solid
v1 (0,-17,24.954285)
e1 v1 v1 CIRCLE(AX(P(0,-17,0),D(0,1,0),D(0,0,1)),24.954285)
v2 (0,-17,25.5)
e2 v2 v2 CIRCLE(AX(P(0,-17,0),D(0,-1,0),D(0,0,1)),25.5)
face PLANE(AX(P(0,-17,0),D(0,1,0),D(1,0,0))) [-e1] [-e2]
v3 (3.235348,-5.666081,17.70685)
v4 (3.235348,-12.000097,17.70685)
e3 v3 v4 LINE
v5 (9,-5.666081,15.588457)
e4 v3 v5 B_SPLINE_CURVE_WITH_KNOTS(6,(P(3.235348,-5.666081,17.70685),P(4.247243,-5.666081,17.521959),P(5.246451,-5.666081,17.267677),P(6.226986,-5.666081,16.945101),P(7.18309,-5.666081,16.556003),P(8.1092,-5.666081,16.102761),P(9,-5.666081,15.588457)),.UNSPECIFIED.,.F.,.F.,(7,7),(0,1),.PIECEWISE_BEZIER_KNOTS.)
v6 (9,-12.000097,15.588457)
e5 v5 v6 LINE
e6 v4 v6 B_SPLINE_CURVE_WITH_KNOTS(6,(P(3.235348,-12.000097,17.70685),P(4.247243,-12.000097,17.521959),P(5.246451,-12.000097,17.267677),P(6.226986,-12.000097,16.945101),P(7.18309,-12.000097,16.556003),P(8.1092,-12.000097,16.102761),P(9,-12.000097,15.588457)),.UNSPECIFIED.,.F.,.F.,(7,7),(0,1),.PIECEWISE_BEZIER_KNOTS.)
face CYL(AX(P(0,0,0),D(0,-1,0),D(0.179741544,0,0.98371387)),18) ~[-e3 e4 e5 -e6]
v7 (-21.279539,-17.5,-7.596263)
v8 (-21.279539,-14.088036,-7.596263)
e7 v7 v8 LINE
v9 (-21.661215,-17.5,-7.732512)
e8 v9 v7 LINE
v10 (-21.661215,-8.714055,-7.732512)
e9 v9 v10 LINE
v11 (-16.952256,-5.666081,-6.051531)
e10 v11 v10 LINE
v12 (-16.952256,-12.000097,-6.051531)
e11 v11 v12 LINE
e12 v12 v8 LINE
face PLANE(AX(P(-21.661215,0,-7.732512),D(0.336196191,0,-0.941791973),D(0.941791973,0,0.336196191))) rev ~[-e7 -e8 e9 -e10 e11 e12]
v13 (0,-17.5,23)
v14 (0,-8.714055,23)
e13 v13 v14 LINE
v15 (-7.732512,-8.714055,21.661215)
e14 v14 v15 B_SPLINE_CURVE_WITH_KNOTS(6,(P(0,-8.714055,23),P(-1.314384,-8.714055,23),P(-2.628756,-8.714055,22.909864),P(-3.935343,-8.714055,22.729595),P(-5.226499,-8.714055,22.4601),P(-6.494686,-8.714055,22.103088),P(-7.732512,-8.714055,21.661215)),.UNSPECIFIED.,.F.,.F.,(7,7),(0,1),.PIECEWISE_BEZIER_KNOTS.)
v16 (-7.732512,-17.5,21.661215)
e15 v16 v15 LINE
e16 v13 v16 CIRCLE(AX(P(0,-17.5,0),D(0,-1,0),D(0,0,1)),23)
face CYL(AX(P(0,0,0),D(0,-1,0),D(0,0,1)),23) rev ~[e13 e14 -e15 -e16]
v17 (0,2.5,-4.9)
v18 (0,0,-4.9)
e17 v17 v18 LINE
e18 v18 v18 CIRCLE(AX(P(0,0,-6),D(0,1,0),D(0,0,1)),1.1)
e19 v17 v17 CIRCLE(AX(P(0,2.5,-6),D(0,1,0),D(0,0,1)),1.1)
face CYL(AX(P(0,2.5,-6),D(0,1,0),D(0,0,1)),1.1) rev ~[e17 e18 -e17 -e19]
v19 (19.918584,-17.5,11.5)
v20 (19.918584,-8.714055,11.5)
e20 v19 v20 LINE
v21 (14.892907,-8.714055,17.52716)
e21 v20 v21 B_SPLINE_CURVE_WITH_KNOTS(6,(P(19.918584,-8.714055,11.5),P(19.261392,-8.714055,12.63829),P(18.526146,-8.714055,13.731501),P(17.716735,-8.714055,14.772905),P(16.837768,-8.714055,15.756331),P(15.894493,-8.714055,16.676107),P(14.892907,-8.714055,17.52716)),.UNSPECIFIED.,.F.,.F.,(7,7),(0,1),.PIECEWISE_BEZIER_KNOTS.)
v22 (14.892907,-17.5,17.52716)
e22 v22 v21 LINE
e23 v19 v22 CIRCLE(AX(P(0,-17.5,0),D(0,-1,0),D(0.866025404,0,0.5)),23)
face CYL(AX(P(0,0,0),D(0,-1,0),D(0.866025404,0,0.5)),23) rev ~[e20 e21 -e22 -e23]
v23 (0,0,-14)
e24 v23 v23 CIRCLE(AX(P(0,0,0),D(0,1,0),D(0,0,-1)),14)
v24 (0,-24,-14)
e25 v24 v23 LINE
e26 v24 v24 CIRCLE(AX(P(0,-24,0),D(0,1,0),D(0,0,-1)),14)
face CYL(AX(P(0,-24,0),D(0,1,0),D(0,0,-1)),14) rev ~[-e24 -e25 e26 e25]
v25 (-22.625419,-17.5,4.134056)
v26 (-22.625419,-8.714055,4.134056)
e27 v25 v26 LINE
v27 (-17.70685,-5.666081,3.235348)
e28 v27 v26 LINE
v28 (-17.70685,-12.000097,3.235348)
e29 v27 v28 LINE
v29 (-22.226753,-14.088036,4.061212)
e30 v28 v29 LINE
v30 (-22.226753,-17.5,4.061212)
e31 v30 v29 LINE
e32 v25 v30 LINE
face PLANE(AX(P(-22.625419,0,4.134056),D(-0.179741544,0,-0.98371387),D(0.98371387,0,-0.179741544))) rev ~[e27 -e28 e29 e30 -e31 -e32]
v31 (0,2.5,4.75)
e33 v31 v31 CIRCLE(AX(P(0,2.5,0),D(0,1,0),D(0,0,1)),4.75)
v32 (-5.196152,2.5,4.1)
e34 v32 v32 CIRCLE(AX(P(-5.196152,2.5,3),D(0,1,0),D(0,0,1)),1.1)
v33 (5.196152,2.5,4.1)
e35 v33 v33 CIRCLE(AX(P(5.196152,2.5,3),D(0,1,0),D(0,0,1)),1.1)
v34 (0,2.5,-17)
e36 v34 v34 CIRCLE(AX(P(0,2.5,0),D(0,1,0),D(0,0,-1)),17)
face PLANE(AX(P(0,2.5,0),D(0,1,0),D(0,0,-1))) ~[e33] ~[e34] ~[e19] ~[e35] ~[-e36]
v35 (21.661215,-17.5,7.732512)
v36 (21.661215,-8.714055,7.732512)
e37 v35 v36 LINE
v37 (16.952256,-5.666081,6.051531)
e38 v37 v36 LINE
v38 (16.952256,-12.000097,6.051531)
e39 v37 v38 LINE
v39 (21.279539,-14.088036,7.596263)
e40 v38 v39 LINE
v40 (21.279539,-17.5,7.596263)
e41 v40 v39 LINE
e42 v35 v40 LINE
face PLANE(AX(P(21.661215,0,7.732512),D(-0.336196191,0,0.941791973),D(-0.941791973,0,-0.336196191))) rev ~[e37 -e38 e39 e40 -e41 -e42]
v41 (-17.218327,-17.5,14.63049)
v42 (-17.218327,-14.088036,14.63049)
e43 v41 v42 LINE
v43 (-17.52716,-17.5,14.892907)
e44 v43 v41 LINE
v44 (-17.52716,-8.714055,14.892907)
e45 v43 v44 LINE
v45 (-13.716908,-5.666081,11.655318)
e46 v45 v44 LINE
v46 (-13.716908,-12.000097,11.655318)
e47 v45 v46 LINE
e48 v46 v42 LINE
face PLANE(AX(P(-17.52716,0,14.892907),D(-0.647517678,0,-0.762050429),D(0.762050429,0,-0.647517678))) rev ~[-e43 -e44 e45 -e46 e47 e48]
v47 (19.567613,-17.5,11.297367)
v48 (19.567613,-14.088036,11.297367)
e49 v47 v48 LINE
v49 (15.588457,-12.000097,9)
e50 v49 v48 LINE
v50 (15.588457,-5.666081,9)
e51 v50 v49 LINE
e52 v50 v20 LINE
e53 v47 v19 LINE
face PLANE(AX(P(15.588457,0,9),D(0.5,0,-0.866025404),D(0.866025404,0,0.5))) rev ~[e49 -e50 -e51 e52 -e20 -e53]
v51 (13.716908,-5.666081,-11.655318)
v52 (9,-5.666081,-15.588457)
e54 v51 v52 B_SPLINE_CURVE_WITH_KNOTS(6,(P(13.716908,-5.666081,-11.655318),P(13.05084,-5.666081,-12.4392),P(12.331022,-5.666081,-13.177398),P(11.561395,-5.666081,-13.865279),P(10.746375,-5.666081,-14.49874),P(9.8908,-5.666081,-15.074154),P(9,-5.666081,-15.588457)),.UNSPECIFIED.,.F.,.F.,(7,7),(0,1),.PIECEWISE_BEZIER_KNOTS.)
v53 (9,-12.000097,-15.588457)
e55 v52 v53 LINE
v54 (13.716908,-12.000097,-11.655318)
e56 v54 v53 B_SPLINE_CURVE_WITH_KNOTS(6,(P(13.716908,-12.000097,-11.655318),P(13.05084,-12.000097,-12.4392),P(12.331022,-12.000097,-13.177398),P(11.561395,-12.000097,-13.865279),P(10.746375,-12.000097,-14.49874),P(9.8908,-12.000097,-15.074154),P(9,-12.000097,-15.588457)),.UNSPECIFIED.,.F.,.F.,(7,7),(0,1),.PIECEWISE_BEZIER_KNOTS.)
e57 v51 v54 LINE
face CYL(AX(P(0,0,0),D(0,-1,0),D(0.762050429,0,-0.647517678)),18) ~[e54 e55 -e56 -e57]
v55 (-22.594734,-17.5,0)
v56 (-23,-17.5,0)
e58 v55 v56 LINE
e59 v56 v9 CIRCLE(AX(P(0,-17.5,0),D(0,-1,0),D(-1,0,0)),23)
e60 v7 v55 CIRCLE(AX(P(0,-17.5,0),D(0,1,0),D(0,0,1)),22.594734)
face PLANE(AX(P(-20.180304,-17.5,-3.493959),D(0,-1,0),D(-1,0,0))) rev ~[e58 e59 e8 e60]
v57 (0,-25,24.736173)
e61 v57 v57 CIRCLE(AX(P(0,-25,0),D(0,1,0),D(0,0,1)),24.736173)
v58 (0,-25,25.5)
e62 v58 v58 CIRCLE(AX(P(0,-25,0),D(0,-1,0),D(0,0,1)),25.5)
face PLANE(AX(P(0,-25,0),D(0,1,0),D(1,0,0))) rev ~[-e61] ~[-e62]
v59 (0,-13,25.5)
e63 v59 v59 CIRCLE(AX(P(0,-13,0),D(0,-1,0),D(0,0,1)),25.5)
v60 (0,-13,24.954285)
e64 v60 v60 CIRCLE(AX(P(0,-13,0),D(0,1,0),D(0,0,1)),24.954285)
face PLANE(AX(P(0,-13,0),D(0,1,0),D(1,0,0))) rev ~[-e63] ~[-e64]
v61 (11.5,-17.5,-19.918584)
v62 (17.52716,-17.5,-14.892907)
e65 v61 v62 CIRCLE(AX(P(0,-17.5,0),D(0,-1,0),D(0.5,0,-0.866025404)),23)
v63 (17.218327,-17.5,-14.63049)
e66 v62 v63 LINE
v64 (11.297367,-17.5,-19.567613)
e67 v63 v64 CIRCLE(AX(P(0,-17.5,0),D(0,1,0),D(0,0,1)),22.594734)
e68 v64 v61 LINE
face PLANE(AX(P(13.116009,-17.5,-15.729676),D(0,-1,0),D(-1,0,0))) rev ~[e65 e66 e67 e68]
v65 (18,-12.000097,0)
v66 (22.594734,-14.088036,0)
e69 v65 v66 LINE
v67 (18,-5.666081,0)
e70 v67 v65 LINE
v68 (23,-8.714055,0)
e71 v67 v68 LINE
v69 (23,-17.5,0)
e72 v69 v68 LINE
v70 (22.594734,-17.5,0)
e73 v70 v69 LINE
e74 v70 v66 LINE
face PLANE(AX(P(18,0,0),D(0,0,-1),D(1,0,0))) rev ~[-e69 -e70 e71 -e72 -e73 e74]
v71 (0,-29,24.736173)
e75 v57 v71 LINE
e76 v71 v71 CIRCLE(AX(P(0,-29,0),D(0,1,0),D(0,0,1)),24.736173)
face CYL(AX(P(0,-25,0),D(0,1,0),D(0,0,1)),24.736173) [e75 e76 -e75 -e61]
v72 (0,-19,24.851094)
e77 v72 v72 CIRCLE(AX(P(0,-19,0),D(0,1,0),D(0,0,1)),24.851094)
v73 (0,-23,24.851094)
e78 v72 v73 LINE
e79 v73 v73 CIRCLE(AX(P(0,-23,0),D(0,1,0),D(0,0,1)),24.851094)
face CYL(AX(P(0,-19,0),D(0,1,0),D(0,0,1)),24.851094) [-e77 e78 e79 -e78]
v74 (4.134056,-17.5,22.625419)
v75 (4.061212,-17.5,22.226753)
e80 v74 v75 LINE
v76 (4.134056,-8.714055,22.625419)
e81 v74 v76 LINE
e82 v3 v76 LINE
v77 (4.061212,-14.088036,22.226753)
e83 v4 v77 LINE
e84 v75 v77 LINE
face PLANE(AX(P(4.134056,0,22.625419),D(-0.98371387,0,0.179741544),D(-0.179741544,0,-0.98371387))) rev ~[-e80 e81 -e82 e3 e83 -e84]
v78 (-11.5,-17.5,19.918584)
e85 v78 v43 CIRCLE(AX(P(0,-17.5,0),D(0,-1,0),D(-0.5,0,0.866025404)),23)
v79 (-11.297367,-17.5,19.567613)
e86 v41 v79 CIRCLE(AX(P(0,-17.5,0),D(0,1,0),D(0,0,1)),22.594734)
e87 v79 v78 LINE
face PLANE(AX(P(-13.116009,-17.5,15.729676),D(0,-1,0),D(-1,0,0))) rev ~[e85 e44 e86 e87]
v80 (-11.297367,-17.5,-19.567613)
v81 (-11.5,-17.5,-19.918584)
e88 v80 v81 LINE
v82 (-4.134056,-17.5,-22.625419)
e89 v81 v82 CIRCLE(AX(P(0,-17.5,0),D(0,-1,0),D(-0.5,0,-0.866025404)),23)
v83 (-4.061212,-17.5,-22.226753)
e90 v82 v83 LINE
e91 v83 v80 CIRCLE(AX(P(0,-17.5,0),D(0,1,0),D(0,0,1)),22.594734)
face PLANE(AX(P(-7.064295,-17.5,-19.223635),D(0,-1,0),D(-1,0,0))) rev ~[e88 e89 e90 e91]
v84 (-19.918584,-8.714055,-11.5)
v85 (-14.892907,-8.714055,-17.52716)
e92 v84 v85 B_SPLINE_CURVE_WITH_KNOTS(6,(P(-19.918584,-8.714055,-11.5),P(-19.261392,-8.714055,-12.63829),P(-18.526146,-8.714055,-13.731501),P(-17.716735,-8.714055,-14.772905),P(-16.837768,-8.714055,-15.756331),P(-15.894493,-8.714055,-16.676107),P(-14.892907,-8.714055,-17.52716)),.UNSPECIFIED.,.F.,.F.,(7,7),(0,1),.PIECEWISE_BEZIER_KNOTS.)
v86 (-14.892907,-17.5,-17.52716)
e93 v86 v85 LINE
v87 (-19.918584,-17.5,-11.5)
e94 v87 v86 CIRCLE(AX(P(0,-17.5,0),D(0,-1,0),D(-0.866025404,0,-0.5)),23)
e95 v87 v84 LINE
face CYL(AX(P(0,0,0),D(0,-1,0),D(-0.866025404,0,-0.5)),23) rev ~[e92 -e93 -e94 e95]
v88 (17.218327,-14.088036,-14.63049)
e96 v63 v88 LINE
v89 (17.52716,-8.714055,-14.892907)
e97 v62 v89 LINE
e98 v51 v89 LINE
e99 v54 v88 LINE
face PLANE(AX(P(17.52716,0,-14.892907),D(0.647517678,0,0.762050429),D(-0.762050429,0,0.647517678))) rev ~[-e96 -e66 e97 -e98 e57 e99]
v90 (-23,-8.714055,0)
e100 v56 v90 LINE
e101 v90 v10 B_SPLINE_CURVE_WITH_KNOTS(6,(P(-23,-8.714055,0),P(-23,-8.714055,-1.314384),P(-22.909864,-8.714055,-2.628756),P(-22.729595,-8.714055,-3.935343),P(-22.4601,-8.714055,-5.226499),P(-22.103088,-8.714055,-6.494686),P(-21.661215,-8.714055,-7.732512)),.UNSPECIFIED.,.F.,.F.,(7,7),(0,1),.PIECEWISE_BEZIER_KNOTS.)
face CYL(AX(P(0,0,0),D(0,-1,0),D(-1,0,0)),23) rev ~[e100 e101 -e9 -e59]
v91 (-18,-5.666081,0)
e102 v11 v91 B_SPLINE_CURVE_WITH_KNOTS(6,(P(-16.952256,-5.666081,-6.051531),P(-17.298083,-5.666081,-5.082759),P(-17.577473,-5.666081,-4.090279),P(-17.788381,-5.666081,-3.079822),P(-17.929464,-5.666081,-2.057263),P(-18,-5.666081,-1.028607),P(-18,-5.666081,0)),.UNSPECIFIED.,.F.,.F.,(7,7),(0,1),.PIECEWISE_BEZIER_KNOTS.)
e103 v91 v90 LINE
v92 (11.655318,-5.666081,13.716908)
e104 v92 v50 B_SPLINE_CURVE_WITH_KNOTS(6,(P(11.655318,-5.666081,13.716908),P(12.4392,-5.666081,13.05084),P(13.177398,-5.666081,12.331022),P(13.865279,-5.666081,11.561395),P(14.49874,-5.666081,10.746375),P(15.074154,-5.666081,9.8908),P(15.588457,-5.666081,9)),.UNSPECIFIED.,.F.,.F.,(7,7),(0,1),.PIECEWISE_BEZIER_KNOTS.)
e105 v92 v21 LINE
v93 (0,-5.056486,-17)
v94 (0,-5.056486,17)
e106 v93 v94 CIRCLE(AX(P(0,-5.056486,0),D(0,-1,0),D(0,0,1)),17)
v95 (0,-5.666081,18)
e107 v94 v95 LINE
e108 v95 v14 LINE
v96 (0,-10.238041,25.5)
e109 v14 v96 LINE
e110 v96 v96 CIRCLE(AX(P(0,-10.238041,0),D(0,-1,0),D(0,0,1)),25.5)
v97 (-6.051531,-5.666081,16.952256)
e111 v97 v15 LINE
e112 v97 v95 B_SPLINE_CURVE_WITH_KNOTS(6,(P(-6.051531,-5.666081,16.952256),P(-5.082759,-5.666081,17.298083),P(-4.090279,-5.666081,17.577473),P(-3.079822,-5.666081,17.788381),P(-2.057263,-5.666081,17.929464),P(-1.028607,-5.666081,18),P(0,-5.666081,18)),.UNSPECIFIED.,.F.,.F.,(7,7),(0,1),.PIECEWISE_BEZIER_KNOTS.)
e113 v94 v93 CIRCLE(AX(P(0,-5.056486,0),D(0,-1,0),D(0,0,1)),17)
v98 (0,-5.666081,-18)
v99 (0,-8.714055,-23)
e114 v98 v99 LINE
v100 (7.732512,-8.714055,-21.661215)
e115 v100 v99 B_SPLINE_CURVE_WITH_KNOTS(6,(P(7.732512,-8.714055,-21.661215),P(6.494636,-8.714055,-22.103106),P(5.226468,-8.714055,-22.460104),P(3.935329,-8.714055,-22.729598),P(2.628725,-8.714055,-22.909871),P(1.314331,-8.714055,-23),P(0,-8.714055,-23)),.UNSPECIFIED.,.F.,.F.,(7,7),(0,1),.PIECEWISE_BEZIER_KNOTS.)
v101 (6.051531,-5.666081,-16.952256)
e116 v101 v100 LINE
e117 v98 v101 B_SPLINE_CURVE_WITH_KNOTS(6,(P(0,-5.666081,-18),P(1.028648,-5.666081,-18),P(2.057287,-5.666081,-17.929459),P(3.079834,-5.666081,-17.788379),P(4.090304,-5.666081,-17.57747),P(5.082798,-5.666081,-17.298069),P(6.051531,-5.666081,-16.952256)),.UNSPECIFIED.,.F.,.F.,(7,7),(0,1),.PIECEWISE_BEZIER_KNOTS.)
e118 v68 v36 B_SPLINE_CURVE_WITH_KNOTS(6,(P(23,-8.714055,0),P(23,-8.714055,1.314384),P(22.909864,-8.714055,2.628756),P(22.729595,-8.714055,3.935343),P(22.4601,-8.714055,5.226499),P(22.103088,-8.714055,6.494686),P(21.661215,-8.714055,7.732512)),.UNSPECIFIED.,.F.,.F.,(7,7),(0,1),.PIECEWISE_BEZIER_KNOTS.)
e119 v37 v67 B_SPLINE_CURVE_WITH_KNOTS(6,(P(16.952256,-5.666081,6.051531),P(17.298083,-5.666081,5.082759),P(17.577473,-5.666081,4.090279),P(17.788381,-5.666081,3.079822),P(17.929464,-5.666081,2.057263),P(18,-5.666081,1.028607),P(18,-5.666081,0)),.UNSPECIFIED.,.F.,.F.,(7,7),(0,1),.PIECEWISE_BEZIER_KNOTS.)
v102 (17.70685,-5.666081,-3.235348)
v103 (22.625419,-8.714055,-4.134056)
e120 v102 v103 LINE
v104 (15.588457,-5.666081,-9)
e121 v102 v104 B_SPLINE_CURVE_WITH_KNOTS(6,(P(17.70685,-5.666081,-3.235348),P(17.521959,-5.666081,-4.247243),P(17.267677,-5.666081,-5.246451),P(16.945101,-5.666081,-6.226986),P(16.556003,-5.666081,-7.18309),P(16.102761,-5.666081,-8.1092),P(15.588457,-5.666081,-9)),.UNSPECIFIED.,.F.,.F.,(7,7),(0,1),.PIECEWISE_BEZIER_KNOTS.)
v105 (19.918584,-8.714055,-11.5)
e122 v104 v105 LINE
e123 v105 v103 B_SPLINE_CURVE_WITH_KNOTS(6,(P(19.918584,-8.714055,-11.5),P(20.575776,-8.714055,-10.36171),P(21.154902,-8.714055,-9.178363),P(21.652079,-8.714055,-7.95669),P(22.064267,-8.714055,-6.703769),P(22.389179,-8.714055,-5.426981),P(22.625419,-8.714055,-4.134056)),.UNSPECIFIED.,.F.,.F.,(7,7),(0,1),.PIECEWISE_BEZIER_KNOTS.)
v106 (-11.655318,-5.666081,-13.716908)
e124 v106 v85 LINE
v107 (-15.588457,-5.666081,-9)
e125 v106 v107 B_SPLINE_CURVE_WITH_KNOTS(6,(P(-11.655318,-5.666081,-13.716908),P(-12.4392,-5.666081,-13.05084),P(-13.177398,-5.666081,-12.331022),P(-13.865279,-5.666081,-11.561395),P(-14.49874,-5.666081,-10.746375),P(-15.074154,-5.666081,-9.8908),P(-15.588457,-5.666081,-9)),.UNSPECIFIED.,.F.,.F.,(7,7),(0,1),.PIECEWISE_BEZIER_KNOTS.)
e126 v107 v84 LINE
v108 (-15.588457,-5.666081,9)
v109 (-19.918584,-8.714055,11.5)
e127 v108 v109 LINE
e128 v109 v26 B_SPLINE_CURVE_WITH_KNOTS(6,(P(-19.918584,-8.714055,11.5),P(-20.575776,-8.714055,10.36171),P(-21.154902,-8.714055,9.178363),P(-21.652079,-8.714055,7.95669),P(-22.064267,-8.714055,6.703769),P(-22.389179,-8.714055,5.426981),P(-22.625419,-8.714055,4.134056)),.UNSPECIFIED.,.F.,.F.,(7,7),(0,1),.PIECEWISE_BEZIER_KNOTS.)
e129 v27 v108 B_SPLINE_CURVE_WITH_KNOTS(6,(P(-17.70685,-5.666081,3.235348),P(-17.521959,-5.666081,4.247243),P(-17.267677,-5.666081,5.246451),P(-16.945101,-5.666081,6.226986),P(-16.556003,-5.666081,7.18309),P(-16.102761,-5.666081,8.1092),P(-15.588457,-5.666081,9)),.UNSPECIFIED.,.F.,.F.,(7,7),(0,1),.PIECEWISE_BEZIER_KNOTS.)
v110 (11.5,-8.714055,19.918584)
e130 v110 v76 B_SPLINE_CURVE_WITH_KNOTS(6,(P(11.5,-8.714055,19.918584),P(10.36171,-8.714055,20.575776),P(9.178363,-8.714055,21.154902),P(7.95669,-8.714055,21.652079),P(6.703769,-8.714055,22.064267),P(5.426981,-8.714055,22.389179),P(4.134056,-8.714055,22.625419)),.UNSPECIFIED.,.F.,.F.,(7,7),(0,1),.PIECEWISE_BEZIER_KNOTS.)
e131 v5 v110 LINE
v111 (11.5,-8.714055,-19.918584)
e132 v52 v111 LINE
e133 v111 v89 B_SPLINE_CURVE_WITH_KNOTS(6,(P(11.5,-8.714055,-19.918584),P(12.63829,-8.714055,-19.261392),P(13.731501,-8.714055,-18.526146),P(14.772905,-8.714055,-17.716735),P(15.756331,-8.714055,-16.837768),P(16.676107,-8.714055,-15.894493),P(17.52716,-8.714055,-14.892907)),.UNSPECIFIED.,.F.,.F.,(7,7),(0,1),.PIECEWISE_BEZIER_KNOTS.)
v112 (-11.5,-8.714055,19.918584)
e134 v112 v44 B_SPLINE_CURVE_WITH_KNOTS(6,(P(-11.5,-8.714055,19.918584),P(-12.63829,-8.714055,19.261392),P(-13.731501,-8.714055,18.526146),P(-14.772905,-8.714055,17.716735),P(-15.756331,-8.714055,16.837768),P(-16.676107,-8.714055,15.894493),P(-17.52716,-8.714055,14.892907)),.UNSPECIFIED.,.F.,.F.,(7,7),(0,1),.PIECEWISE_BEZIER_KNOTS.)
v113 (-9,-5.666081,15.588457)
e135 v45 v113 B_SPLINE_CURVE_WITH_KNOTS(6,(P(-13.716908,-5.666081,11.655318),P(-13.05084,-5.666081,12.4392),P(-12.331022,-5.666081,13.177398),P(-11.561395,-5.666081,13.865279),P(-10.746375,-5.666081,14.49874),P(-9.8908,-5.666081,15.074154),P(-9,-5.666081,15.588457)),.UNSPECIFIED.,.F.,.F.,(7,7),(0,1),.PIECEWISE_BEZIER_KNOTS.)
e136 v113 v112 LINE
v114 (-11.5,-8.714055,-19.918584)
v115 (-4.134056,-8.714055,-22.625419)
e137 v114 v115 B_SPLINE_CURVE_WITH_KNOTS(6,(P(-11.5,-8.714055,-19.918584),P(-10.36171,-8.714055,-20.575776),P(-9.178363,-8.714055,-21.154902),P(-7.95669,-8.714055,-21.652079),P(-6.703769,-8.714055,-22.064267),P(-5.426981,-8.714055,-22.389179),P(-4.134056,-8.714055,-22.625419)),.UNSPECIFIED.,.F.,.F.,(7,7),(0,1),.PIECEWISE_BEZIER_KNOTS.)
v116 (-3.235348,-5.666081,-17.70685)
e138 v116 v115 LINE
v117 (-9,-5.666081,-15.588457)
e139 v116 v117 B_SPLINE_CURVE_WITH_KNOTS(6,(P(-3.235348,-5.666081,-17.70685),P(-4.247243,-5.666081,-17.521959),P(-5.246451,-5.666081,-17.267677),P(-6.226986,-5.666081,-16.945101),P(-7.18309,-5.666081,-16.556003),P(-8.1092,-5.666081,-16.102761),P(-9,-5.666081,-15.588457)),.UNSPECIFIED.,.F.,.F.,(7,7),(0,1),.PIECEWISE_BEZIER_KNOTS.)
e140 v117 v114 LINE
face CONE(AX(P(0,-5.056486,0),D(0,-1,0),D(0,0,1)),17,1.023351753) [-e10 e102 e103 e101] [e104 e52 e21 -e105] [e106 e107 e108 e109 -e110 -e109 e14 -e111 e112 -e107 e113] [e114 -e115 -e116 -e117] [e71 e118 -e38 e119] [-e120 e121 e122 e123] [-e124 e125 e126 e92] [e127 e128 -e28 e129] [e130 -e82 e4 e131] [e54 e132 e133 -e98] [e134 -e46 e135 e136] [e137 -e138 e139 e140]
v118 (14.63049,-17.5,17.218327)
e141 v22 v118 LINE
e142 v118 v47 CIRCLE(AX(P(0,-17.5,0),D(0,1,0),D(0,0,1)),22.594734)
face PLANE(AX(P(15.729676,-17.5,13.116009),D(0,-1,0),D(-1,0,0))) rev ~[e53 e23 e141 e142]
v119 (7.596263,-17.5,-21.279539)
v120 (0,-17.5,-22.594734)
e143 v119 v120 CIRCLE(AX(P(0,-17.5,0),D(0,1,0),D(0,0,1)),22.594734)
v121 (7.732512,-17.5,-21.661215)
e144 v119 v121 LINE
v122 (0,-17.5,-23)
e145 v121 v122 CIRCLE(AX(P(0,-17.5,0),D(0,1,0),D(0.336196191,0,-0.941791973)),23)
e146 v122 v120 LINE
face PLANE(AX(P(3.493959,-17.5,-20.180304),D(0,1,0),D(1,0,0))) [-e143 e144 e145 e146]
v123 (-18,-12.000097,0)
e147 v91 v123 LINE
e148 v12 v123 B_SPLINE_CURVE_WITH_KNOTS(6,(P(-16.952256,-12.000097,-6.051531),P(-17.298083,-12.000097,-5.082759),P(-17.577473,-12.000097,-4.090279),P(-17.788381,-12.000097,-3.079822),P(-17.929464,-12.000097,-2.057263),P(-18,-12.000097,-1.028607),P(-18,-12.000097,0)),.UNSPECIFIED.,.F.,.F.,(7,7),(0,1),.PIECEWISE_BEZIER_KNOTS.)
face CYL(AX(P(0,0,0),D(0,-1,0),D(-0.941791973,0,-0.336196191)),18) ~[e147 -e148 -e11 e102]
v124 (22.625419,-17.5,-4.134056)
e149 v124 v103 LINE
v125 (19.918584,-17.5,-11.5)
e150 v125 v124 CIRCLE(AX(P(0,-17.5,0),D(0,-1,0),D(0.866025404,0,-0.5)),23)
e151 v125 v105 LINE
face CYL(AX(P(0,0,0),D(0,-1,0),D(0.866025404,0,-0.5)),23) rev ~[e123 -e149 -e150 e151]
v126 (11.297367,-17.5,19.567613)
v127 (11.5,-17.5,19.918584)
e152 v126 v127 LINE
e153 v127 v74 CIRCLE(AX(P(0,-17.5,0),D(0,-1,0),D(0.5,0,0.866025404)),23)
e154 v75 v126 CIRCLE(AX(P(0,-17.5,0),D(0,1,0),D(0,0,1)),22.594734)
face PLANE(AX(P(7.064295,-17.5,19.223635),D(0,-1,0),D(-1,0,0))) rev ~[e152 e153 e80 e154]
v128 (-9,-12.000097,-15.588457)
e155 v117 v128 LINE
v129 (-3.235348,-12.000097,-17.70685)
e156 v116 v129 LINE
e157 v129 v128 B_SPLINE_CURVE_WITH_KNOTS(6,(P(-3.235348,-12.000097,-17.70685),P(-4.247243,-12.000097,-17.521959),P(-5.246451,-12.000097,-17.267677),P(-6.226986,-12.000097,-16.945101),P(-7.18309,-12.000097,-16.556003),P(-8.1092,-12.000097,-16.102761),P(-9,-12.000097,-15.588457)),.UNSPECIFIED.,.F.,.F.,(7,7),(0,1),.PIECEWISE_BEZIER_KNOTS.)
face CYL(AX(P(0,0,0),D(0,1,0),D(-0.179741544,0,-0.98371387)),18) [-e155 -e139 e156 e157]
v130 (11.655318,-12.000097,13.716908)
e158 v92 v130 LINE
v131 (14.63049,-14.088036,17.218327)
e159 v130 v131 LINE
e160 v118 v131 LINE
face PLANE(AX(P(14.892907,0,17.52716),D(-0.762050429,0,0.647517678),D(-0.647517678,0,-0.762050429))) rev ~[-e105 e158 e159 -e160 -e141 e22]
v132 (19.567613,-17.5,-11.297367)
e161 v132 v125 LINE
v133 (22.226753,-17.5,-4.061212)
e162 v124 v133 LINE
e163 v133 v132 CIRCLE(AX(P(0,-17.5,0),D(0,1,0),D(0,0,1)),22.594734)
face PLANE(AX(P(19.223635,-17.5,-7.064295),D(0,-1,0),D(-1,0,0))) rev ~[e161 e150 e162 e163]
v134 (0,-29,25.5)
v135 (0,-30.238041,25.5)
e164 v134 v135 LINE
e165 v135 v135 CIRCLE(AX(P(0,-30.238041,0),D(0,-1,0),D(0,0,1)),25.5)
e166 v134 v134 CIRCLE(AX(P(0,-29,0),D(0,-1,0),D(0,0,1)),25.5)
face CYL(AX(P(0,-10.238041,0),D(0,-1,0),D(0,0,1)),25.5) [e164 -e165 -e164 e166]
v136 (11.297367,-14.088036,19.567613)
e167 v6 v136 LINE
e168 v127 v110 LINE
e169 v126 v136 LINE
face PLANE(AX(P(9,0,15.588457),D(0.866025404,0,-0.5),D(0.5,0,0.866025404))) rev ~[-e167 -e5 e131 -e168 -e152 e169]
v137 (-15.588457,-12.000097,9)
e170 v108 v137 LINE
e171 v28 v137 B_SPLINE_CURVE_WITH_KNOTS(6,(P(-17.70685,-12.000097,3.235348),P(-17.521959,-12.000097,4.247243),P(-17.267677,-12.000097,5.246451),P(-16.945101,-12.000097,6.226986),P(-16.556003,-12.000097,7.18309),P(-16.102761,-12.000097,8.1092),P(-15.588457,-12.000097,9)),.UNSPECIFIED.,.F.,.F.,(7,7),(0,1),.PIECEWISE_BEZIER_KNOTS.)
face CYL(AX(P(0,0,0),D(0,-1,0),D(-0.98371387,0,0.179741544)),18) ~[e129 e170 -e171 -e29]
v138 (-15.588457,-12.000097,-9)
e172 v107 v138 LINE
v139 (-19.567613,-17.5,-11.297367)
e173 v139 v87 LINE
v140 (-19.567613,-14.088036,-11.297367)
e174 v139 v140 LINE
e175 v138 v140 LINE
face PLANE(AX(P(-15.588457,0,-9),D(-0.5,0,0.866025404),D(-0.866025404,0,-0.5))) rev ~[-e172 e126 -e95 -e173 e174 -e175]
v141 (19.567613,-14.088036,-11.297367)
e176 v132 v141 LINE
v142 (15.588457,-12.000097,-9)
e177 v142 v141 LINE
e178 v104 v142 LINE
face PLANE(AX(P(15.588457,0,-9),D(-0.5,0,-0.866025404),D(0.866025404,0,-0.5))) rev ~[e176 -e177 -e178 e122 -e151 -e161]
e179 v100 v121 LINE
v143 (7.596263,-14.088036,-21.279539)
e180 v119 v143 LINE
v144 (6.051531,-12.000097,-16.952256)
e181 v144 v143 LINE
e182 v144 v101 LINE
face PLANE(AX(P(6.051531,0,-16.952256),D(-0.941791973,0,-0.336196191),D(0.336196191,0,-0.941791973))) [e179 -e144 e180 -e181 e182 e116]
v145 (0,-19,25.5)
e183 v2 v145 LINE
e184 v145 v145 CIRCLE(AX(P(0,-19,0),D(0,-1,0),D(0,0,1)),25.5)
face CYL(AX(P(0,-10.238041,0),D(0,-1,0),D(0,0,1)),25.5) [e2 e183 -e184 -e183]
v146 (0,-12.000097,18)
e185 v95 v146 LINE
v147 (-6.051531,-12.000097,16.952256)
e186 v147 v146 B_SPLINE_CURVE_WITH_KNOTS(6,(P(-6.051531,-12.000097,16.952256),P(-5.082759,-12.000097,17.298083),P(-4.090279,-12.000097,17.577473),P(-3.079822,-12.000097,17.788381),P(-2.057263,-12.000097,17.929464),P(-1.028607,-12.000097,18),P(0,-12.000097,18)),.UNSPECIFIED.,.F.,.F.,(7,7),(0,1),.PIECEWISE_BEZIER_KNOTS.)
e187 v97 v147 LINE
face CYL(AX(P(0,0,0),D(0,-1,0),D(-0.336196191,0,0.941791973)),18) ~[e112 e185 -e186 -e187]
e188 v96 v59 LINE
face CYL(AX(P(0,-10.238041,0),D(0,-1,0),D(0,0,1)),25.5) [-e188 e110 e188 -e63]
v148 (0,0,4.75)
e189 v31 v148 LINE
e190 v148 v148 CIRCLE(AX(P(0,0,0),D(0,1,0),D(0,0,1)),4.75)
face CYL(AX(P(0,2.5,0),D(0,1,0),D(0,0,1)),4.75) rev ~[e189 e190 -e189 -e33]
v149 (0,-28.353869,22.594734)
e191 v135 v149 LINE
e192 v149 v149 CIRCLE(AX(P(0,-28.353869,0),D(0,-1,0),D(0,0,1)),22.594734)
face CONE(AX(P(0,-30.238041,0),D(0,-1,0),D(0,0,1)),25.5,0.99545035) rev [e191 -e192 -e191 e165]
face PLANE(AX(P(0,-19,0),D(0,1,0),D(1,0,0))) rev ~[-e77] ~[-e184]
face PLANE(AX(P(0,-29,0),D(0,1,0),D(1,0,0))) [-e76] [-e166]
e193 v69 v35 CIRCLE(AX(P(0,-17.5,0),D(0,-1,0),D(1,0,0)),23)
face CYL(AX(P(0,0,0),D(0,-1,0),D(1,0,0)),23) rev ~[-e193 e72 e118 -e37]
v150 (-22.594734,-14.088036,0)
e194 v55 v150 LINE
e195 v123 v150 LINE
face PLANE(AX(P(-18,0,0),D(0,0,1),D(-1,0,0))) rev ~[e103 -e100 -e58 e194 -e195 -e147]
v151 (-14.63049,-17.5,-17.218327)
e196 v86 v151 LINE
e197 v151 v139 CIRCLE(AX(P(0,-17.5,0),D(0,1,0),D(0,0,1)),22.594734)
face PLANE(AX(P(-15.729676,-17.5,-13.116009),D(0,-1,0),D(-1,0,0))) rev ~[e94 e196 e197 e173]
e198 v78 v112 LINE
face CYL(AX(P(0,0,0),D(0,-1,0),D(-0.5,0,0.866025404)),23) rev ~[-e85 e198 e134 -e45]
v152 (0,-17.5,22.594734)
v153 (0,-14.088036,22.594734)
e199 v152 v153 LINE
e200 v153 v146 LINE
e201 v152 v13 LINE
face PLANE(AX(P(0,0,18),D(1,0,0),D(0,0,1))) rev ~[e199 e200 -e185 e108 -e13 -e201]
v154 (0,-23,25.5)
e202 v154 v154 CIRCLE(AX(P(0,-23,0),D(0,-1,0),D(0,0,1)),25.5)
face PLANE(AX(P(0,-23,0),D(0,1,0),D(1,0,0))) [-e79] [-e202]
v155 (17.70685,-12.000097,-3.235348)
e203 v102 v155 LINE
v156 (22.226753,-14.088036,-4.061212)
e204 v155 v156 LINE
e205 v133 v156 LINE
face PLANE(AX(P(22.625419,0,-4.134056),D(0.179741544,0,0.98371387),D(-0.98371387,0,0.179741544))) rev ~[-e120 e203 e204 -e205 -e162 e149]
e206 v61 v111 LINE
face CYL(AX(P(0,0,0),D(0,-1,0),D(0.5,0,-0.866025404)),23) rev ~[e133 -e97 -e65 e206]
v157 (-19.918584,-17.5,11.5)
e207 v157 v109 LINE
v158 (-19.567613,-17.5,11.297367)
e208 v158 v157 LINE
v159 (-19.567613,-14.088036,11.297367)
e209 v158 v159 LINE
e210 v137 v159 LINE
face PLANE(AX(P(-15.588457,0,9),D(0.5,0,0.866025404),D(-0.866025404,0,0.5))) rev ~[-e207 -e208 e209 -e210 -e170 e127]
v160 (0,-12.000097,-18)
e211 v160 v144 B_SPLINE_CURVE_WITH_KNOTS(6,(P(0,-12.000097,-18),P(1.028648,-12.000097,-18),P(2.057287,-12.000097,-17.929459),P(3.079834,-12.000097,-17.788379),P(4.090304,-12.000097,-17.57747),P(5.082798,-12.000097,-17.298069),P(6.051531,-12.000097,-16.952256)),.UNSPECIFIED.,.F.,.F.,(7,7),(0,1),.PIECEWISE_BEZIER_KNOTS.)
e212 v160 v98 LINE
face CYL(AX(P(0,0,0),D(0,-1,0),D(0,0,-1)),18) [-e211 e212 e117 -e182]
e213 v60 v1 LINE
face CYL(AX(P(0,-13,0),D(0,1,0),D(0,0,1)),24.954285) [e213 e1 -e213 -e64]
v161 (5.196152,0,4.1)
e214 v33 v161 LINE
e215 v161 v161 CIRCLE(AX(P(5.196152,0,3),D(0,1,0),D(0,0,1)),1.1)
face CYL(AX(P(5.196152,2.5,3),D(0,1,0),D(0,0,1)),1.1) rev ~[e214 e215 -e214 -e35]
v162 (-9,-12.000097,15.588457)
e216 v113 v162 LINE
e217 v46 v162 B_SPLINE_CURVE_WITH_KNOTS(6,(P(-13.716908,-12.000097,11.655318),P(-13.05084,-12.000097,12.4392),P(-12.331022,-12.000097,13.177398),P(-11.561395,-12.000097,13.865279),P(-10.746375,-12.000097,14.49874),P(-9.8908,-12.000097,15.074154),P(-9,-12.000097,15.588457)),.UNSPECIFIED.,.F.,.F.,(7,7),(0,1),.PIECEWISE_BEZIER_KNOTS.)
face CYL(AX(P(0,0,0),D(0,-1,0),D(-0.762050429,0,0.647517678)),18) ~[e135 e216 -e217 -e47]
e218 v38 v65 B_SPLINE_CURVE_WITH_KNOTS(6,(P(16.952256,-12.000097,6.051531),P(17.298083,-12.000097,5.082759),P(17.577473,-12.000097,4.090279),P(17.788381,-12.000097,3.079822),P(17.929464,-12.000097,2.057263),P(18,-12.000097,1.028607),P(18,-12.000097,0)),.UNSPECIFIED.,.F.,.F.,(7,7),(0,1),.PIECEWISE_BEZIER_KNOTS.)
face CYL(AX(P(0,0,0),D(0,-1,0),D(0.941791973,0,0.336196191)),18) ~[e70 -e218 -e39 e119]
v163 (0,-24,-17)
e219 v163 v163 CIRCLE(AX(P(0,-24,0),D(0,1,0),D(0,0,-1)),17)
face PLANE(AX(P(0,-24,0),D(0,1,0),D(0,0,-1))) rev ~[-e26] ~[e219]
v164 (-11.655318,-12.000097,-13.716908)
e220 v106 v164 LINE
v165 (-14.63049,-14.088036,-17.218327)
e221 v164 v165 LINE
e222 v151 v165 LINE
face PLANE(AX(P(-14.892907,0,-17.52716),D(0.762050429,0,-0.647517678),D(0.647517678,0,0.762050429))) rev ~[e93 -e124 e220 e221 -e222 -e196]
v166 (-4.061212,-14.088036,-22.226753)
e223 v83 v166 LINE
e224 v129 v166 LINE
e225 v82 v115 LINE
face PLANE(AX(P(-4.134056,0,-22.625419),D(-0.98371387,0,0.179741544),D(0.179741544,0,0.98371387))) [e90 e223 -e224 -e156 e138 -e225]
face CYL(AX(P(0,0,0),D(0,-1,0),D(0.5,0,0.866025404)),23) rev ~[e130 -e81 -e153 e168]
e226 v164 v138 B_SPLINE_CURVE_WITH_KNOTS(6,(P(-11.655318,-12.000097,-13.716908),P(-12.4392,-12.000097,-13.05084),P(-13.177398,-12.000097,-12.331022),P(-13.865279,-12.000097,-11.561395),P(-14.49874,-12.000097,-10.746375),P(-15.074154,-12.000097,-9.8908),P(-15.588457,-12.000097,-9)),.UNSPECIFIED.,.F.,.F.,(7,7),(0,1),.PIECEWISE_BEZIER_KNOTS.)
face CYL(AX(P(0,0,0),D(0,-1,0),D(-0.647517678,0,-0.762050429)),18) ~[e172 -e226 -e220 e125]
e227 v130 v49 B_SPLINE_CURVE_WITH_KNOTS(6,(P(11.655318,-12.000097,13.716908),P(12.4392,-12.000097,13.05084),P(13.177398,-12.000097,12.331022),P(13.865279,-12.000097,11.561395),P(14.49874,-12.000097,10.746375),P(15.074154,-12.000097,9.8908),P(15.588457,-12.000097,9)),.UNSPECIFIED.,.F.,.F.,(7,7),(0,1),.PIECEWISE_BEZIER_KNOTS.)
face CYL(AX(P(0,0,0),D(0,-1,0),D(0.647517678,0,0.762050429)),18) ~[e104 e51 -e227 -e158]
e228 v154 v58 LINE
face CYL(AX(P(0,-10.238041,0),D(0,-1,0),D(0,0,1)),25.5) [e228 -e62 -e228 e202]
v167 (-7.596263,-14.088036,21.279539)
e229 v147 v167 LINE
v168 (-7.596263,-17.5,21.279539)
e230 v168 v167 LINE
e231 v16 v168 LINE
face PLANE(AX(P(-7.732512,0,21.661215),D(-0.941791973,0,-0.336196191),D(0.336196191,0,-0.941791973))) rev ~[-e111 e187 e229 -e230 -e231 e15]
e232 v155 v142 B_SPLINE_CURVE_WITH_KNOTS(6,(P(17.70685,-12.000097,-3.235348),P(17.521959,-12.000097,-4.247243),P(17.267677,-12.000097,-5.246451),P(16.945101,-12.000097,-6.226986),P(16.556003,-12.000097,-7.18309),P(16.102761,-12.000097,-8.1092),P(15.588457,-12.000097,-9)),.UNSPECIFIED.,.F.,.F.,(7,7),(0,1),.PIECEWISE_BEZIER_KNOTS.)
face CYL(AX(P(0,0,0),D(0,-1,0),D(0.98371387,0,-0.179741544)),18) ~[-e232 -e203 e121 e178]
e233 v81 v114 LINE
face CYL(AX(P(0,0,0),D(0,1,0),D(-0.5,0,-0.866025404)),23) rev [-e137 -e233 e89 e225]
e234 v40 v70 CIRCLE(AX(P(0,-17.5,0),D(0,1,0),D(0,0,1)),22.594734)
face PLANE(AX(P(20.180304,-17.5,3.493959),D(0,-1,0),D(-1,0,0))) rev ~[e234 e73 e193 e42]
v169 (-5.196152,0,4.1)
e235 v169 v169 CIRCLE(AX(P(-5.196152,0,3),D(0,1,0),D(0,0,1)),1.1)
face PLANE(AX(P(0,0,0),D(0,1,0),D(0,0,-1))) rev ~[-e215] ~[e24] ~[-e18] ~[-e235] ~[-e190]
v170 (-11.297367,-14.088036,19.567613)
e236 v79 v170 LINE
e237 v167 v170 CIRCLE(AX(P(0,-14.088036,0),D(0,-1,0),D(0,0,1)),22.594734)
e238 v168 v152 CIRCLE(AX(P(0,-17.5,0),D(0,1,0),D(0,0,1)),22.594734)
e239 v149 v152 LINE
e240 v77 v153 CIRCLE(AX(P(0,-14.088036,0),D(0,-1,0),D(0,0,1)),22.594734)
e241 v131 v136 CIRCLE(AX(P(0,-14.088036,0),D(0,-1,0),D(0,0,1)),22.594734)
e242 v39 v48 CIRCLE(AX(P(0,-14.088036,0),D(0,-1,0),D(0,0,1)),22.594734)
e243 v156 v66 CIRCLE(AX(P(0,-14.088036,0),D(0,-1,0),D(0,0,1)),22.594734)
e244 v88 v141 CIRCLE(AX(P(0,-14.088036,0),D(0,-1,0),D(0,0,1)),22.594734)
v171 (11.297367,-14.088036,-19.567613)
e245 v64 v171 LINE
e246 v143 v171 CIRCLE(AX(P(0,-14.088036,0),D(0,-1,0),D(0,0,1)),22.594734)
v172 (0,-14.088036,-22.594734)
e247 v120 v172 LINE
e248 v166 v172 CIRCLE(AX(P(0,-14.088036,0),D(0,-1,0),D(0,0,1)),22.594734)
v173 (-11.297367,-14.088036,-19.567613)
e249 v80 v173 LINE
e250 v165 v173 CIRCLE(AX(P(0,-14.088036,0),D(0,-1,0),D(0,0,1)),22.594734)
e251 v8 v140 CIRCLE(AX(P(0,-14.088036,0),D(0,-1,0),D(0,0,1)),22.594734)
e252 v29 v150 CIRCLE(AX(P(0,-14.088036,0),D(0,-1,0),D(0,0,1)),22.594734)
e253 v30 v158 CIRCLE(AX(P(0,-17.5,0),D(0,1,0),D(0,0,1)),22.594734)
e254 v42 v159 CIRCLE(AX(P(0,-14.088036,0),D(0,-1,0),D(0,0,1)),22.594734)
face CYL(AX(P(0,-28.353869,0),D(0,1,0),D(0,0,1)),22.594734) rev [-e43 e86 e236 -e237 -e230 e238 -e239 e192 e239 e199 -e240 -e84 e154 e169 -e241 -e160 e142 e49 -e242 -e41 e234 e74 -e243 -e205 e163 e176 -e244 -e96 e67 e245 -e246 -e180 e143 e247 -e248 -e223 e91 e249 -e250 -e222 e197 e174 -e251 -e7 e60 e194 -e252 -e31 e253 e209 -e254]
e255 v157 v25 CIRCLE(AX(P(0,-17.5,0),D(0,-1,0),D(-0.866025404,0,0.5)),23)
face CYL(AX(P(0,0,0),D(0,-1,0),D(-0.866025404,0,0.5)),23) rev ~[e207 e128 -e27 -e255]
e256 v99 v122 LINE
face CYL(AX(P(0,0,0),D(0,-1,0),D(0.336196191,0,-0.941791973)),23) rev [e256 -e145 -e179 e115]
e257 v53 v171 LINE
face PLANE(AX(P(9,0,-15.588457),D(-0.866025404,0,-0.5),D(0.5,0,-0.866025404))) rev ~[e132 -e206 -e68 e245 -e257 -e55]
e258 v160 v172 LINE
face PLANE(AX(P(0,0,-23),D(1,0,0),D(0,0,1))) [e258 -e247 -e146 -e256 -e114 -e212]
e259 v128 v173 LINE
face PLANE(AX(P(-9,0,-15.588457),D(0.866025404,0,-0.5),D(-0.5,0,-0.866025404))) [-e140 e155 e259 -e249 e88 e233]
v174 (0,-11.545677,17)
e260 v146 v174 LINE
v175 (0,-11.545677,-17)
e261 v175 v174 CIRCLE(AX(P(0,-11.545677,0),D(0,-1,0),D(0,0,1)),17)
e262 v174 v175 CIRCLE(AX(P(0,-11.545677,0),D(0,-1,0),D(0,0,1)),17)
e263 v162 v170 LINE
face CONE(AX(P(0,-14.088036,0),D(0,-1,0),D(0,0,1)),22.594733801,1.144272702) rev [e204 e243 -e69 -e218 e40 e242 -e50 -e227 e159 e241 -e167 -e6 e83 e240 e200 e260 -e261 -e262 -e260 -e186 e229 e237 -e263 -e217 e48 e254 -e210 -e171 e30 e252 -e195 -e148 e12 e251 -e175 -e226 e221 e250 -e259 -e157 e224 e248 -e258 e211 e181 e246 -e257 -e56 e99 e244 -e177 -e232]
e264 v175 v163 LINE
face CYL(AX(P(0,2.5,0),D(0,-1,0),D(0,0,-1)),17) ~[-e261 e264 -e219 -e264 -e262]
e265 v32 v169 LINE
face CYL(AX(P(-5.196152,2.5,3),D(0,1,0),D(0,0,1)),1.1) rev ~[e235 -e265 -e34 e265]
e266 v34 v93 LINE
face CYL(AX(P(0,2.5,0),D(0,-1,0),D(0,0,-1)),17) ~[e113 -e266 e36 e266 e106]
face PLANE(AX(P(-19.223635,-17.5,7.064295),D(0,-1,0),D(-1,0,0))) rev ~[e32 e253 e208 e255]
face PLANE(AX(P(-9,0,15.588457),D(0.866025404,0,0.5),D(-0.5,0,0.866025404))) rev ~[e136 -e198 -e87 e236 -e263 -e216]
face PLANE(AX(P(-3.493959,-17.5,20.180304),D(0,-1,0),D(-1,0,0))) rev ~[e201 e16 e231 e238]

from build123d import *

# Parameters (mm, degrees)
SKETCH_2_R          = 4.75
SKETCH_2_R_2        = 1.1
CUT_EXTRUDE_1_DEPTH = 10
CUT_EXTRUDE_2_DEPTH = 17.5
SKETCH_9_R          = 26
SKETCH_9_R_2        = 24.954284739
CUT_EXTRUDE_4_DEPTH = 4
SKETCH_10_R         = 27.155658861
SKETCH_10_R_2       = 24.851094357
CUT_EXTRUDE_5_DEPTH = 4
SKETCH_11_R         = 26.970973613
SKETCH_11_R_2       = 24.736173034
CUT_EXTRUDE_6_DEPTH = 4


with BuildPart() as part:
    # 草图1 → 旋转1 (revolve)
    with BuildSketch(Plane.XY, mode=Mode.PRIVATE) as revolve_1_sk:
        Polygon((0, 2.5), (17, 2.5), (17, -24), (14, -24), (14, 0), (0, 0), align=None)
    revolve(revolve_1_sk.sketch.rotate(Axis((0, 0, 0), (0, 1, 0)), 90), axis=Axis((0, 0, 0), (0, 1, 0)))

    # 草图2 → 切除-拉伸1 (cut)
    with BuildSketch(Plane(origin=(0, 2.5, 0), x_dir=(1, 0, 0), z_dir=(0, 1, 0))):
        with Locations(Location((0, 0, 0), (0, 0, 270))):
            Circle(SKETCH_2_R)
        with Locations(Location((0, 6, 0), (0, 0, 270))):
            Circle(SKETCH_2_R_2)
        with Locations(Location((5.196152423, -3, 0), (0, 0, 270))):
            Circle(SKETCH_2_R_2)
        with Locations(Location((-5.196152423, -3, 0), (0, 0, 270))):
            Circle(SKETCH_2_R_2)
    extrude(amount=-CUT_EXTRUDE_1_DEPTH, mode=Mode.SUBTRACT)

    # 草图6 → 旋转3 (revolve)
    with BuildSketch(Plane(origin=(0, 0, 0), x_dir=(0, 0, -1), z_dir=(1, 0, 0)), mode=Mode.PRIVATE) as revolve_3_sk:
        Polygon((17, -11.545676787), (17, -5.056486478), (25.5, -10.238041423), (25.5, -30.238041423), (22.594733801, -28.353869151), (22.594733801, -14.08803646), align=None)
    revolve(revolve_3_sk.sketch.rotate(Axis((0, 0, 0), (0, -1, 0)), 180), axis=Axis((0, 0, 0), (0, -1, 0)))

    # 草图7 → 切除-拉伸2 (cut, symmetric)
    with BuildSketch(Plane(origin=(0, 0, 0), x_dir=(1, 0, 0), z_dir=(0, 1, 0))):
        with BuildLine():
            Line((0, 23), (0, 18))
            ThreePointArc((0, 18), (3.070781712, 17.736129783), (6.051531441, 16.95225552))
            Line((6.051531441, 16.95225552), (7.732512397, 21.661215387))
            ThreePointArc((7.732512397, 21.661215387), (3.923776632, 22.6628325), (0, 23))
        make_face()
        with BuildLine():
            Line((17.527159865, 14.892906603), (13.71690772, 11.655318211))
            ThreePointArc((13.71690772, 11.655318211), (11.527439863, 13.824548101), (9, 15.588457268))
            Line((9, 15.588457268), (11.5, 19.918584287))
            ThreePointArc((11.5, 19.918584287), (14.729506492, 17.664700351), (17.527159865, 14.892906603))
        make_face()
        with BuildLine():
            Line((22.625419, 4.134055522), (17.706849652, 3.2353478))
            ThreePointArc((17.706849652, 3.2353478), (16.895329813, 6.20868992), (15.588457268, 9))
            Line((15.588457268, 9), (19.918584287, 11.5))
            ThreePointArc((19.918584287, 11.5), (21.588476983, 7.933326009), (22.625419, 4.134055522))
        make_face()
        with BuildLine():
            Line((21.661215387, -7.732512397), (16.95225552, -6.051531441))
            ThreePointArc((16.95225552, -6.051531441), (17.736129783, -3.070781712), (18, 0))
            Line((18, 0), (23, 0))
            ThreePointArc((23, 0), (22.6628325, -3.923776632), (21.661215387, -7.732512397))
        make_face()
        with BuildLine():
            Line((14.892906603, -17.527159865), (11.655318211, -13.71690772))
            ThreePointArc((11.655318211, -13.71690772), (13.824548101, -11.527439863), (15.588457268, -9))
            Line((15.588457268, -9), (19.918584287, -11.5))
            ThreePointArc((19.918584287, -11.5), (17.664700351, -14.729506492), (14.892906603, -17.527159865))
        make_face()
        with BuildLine():
            Line((4.134055522, -22.625419), (3.2353478, -17.706849652))
            ThreePointArc((3.2353478, -17.706849652), (6.20868992, -16.895329813), (9, -15.588457268))
            Line((9, -15.588457268), (11.5, -19.918584287))
            ThreePointArc((11.5, -19.918584287), (7.933326009, -21.588476983), (4.134055522, -22.625419))
        make_face()
        with BuildLine():
            Line((-7.732512397, -21.661215387), (-6.051531441, -16.95225552))
            ThreePointArc((-6.051531441, -16.95225552), (-3.070781712, -17.736129783), (0, -18))
            Line((0, -18), (0, -23))
            ThreePointArc((0, -23), (-3.923776632, -22.6628325), (-7.732512397, -21.661215387))
        make_face()
        with BuildLine():
            Line((-17.527159865, -14.892906603), (-13.71690772, -11.655318211))
            ThreePointArc((-13.71690772, -11.655318211), (-11.527439863, -13.824548101), (-9, -15.588457268))
            Line((-9, -15.588457268), (-11.5, -19.918584287))
            ThreePointArc((-11.5, -19.918584287), (-14.729506492, -17.664700351), (-17.527159865, -14.892906603))
        make_face()
        with BuildLine():
            Line((-22.625419, -4.134055522), (-17.706849652, -3.2353478))
            ThreePointArc((-17.706849652, -3.2353478), (-16.895329813, -6.20868992), (-15.588457268, -9))
            Line((-15.588457268, -9), (-19.918584287, -11.5))
            ThreePointArc((-19.918584287, -11.5), (-21.588476983, -7.933326009), (-22.625419, -4.134055522))
        make_face()
        with BuildLine():
            Line((-21.661215387, 7.732512397), (-16.95225552, 6.051531441))
            ThreePointArc((-16.95225552, 6.051531441), (-17.736129783, 3.070781712), (-18, 0))
            Line((-18, 0), (-23, 0))
            ThreePointArc((-23, 0), (-22.6628325, 3.923776632), (-21.661215387, 7.732512397))
        make_face()
        with BuildLine():
            Line((-14.892906603, 17.527159865), (-11.655318211, 13.71690772))
            ThreePointArc((-11.655318211, 13.71690772), (-13.824548101, 11.527439863), (-15.588457268, 9))
            Line((-15.588457268, 9), (-19.918584287, 11.5))
            ThreePointArc((-19.918584287, 11.5), (-17.664700351, 14.729506492), (-14.892906603, 17.527159865))
        make_face()
        with BuildLine():
            Line((-4.134055522, 22.625419), (-3.2353478, 17.706849652))
            ThreePointArc((-3.2353478, 17.706849652), (-6.20868992, 16.895329813), (-9, 15.588457268))
            Line((-9, 15.588457268), (-11.5, 19.918584287))
            ThreePointArc((-11.5, 19.918584287), (-7.933326009, 21.588476983), (-4.134055522, 22.625419))
        make_face()
    extrude(amount=CUT_EXTRUDE_2_DEPTH, both=True, mode=Mode.SUBTRACT)

    # 草图9 → 切除-拉伸4 (cut)
    with BuildSketch(Plane(origin=(0, -13, 0), x_dir=(1, 0, 0), z_dir=(0, 1, 0))):
        Circle(SKETCH_9_R)
        with Locations(Location((0, 0, 0), (0, 0, 270))):
            Circle(SKETCH_9_R_2, mode=Mode.SUBTRACT)
    extrude(amount=-CUT_EXTRUDE_4_DEPTH, mode=Mode.SUBTRACT)

    # 草图10 → 切除-拉伸5 (cut)
    with BuildSketch(Plane(origin=(0, -19, 0), x_dir=(1, 0, 0), z_dir=(0, 1, 0))):
        Circle(SKETCH_10_R)
        with Locations(Location((0, 0, 0), (0, 0, 270))):
            Circle(SKETCH_10_R_2, mode=Mode.SUBTRACT)
    extrude(amount=-CUT_EXTRUDE_5_DEPTH, mode=Mode.SUBTRACT)

    # 草图11 → 切除-拉伸6 (cut)
    with BuildSketch(Plane(origin=(0, -25, 0), x_dir=(1, 0, 0), z_dir=(0, 1, 0))):
        Circle(SKETCH_11_R)
        with Locations(Location((0, 0, 0), (0, 0, 270))):
            Circle(SKETCH_11_R_2, mode=Mode.SUBTRACT)
    extrude(amount=-CUT_EXTRUDE_6_DEPTH, mode=Mode.SUBTRACT)


solid = part.part
